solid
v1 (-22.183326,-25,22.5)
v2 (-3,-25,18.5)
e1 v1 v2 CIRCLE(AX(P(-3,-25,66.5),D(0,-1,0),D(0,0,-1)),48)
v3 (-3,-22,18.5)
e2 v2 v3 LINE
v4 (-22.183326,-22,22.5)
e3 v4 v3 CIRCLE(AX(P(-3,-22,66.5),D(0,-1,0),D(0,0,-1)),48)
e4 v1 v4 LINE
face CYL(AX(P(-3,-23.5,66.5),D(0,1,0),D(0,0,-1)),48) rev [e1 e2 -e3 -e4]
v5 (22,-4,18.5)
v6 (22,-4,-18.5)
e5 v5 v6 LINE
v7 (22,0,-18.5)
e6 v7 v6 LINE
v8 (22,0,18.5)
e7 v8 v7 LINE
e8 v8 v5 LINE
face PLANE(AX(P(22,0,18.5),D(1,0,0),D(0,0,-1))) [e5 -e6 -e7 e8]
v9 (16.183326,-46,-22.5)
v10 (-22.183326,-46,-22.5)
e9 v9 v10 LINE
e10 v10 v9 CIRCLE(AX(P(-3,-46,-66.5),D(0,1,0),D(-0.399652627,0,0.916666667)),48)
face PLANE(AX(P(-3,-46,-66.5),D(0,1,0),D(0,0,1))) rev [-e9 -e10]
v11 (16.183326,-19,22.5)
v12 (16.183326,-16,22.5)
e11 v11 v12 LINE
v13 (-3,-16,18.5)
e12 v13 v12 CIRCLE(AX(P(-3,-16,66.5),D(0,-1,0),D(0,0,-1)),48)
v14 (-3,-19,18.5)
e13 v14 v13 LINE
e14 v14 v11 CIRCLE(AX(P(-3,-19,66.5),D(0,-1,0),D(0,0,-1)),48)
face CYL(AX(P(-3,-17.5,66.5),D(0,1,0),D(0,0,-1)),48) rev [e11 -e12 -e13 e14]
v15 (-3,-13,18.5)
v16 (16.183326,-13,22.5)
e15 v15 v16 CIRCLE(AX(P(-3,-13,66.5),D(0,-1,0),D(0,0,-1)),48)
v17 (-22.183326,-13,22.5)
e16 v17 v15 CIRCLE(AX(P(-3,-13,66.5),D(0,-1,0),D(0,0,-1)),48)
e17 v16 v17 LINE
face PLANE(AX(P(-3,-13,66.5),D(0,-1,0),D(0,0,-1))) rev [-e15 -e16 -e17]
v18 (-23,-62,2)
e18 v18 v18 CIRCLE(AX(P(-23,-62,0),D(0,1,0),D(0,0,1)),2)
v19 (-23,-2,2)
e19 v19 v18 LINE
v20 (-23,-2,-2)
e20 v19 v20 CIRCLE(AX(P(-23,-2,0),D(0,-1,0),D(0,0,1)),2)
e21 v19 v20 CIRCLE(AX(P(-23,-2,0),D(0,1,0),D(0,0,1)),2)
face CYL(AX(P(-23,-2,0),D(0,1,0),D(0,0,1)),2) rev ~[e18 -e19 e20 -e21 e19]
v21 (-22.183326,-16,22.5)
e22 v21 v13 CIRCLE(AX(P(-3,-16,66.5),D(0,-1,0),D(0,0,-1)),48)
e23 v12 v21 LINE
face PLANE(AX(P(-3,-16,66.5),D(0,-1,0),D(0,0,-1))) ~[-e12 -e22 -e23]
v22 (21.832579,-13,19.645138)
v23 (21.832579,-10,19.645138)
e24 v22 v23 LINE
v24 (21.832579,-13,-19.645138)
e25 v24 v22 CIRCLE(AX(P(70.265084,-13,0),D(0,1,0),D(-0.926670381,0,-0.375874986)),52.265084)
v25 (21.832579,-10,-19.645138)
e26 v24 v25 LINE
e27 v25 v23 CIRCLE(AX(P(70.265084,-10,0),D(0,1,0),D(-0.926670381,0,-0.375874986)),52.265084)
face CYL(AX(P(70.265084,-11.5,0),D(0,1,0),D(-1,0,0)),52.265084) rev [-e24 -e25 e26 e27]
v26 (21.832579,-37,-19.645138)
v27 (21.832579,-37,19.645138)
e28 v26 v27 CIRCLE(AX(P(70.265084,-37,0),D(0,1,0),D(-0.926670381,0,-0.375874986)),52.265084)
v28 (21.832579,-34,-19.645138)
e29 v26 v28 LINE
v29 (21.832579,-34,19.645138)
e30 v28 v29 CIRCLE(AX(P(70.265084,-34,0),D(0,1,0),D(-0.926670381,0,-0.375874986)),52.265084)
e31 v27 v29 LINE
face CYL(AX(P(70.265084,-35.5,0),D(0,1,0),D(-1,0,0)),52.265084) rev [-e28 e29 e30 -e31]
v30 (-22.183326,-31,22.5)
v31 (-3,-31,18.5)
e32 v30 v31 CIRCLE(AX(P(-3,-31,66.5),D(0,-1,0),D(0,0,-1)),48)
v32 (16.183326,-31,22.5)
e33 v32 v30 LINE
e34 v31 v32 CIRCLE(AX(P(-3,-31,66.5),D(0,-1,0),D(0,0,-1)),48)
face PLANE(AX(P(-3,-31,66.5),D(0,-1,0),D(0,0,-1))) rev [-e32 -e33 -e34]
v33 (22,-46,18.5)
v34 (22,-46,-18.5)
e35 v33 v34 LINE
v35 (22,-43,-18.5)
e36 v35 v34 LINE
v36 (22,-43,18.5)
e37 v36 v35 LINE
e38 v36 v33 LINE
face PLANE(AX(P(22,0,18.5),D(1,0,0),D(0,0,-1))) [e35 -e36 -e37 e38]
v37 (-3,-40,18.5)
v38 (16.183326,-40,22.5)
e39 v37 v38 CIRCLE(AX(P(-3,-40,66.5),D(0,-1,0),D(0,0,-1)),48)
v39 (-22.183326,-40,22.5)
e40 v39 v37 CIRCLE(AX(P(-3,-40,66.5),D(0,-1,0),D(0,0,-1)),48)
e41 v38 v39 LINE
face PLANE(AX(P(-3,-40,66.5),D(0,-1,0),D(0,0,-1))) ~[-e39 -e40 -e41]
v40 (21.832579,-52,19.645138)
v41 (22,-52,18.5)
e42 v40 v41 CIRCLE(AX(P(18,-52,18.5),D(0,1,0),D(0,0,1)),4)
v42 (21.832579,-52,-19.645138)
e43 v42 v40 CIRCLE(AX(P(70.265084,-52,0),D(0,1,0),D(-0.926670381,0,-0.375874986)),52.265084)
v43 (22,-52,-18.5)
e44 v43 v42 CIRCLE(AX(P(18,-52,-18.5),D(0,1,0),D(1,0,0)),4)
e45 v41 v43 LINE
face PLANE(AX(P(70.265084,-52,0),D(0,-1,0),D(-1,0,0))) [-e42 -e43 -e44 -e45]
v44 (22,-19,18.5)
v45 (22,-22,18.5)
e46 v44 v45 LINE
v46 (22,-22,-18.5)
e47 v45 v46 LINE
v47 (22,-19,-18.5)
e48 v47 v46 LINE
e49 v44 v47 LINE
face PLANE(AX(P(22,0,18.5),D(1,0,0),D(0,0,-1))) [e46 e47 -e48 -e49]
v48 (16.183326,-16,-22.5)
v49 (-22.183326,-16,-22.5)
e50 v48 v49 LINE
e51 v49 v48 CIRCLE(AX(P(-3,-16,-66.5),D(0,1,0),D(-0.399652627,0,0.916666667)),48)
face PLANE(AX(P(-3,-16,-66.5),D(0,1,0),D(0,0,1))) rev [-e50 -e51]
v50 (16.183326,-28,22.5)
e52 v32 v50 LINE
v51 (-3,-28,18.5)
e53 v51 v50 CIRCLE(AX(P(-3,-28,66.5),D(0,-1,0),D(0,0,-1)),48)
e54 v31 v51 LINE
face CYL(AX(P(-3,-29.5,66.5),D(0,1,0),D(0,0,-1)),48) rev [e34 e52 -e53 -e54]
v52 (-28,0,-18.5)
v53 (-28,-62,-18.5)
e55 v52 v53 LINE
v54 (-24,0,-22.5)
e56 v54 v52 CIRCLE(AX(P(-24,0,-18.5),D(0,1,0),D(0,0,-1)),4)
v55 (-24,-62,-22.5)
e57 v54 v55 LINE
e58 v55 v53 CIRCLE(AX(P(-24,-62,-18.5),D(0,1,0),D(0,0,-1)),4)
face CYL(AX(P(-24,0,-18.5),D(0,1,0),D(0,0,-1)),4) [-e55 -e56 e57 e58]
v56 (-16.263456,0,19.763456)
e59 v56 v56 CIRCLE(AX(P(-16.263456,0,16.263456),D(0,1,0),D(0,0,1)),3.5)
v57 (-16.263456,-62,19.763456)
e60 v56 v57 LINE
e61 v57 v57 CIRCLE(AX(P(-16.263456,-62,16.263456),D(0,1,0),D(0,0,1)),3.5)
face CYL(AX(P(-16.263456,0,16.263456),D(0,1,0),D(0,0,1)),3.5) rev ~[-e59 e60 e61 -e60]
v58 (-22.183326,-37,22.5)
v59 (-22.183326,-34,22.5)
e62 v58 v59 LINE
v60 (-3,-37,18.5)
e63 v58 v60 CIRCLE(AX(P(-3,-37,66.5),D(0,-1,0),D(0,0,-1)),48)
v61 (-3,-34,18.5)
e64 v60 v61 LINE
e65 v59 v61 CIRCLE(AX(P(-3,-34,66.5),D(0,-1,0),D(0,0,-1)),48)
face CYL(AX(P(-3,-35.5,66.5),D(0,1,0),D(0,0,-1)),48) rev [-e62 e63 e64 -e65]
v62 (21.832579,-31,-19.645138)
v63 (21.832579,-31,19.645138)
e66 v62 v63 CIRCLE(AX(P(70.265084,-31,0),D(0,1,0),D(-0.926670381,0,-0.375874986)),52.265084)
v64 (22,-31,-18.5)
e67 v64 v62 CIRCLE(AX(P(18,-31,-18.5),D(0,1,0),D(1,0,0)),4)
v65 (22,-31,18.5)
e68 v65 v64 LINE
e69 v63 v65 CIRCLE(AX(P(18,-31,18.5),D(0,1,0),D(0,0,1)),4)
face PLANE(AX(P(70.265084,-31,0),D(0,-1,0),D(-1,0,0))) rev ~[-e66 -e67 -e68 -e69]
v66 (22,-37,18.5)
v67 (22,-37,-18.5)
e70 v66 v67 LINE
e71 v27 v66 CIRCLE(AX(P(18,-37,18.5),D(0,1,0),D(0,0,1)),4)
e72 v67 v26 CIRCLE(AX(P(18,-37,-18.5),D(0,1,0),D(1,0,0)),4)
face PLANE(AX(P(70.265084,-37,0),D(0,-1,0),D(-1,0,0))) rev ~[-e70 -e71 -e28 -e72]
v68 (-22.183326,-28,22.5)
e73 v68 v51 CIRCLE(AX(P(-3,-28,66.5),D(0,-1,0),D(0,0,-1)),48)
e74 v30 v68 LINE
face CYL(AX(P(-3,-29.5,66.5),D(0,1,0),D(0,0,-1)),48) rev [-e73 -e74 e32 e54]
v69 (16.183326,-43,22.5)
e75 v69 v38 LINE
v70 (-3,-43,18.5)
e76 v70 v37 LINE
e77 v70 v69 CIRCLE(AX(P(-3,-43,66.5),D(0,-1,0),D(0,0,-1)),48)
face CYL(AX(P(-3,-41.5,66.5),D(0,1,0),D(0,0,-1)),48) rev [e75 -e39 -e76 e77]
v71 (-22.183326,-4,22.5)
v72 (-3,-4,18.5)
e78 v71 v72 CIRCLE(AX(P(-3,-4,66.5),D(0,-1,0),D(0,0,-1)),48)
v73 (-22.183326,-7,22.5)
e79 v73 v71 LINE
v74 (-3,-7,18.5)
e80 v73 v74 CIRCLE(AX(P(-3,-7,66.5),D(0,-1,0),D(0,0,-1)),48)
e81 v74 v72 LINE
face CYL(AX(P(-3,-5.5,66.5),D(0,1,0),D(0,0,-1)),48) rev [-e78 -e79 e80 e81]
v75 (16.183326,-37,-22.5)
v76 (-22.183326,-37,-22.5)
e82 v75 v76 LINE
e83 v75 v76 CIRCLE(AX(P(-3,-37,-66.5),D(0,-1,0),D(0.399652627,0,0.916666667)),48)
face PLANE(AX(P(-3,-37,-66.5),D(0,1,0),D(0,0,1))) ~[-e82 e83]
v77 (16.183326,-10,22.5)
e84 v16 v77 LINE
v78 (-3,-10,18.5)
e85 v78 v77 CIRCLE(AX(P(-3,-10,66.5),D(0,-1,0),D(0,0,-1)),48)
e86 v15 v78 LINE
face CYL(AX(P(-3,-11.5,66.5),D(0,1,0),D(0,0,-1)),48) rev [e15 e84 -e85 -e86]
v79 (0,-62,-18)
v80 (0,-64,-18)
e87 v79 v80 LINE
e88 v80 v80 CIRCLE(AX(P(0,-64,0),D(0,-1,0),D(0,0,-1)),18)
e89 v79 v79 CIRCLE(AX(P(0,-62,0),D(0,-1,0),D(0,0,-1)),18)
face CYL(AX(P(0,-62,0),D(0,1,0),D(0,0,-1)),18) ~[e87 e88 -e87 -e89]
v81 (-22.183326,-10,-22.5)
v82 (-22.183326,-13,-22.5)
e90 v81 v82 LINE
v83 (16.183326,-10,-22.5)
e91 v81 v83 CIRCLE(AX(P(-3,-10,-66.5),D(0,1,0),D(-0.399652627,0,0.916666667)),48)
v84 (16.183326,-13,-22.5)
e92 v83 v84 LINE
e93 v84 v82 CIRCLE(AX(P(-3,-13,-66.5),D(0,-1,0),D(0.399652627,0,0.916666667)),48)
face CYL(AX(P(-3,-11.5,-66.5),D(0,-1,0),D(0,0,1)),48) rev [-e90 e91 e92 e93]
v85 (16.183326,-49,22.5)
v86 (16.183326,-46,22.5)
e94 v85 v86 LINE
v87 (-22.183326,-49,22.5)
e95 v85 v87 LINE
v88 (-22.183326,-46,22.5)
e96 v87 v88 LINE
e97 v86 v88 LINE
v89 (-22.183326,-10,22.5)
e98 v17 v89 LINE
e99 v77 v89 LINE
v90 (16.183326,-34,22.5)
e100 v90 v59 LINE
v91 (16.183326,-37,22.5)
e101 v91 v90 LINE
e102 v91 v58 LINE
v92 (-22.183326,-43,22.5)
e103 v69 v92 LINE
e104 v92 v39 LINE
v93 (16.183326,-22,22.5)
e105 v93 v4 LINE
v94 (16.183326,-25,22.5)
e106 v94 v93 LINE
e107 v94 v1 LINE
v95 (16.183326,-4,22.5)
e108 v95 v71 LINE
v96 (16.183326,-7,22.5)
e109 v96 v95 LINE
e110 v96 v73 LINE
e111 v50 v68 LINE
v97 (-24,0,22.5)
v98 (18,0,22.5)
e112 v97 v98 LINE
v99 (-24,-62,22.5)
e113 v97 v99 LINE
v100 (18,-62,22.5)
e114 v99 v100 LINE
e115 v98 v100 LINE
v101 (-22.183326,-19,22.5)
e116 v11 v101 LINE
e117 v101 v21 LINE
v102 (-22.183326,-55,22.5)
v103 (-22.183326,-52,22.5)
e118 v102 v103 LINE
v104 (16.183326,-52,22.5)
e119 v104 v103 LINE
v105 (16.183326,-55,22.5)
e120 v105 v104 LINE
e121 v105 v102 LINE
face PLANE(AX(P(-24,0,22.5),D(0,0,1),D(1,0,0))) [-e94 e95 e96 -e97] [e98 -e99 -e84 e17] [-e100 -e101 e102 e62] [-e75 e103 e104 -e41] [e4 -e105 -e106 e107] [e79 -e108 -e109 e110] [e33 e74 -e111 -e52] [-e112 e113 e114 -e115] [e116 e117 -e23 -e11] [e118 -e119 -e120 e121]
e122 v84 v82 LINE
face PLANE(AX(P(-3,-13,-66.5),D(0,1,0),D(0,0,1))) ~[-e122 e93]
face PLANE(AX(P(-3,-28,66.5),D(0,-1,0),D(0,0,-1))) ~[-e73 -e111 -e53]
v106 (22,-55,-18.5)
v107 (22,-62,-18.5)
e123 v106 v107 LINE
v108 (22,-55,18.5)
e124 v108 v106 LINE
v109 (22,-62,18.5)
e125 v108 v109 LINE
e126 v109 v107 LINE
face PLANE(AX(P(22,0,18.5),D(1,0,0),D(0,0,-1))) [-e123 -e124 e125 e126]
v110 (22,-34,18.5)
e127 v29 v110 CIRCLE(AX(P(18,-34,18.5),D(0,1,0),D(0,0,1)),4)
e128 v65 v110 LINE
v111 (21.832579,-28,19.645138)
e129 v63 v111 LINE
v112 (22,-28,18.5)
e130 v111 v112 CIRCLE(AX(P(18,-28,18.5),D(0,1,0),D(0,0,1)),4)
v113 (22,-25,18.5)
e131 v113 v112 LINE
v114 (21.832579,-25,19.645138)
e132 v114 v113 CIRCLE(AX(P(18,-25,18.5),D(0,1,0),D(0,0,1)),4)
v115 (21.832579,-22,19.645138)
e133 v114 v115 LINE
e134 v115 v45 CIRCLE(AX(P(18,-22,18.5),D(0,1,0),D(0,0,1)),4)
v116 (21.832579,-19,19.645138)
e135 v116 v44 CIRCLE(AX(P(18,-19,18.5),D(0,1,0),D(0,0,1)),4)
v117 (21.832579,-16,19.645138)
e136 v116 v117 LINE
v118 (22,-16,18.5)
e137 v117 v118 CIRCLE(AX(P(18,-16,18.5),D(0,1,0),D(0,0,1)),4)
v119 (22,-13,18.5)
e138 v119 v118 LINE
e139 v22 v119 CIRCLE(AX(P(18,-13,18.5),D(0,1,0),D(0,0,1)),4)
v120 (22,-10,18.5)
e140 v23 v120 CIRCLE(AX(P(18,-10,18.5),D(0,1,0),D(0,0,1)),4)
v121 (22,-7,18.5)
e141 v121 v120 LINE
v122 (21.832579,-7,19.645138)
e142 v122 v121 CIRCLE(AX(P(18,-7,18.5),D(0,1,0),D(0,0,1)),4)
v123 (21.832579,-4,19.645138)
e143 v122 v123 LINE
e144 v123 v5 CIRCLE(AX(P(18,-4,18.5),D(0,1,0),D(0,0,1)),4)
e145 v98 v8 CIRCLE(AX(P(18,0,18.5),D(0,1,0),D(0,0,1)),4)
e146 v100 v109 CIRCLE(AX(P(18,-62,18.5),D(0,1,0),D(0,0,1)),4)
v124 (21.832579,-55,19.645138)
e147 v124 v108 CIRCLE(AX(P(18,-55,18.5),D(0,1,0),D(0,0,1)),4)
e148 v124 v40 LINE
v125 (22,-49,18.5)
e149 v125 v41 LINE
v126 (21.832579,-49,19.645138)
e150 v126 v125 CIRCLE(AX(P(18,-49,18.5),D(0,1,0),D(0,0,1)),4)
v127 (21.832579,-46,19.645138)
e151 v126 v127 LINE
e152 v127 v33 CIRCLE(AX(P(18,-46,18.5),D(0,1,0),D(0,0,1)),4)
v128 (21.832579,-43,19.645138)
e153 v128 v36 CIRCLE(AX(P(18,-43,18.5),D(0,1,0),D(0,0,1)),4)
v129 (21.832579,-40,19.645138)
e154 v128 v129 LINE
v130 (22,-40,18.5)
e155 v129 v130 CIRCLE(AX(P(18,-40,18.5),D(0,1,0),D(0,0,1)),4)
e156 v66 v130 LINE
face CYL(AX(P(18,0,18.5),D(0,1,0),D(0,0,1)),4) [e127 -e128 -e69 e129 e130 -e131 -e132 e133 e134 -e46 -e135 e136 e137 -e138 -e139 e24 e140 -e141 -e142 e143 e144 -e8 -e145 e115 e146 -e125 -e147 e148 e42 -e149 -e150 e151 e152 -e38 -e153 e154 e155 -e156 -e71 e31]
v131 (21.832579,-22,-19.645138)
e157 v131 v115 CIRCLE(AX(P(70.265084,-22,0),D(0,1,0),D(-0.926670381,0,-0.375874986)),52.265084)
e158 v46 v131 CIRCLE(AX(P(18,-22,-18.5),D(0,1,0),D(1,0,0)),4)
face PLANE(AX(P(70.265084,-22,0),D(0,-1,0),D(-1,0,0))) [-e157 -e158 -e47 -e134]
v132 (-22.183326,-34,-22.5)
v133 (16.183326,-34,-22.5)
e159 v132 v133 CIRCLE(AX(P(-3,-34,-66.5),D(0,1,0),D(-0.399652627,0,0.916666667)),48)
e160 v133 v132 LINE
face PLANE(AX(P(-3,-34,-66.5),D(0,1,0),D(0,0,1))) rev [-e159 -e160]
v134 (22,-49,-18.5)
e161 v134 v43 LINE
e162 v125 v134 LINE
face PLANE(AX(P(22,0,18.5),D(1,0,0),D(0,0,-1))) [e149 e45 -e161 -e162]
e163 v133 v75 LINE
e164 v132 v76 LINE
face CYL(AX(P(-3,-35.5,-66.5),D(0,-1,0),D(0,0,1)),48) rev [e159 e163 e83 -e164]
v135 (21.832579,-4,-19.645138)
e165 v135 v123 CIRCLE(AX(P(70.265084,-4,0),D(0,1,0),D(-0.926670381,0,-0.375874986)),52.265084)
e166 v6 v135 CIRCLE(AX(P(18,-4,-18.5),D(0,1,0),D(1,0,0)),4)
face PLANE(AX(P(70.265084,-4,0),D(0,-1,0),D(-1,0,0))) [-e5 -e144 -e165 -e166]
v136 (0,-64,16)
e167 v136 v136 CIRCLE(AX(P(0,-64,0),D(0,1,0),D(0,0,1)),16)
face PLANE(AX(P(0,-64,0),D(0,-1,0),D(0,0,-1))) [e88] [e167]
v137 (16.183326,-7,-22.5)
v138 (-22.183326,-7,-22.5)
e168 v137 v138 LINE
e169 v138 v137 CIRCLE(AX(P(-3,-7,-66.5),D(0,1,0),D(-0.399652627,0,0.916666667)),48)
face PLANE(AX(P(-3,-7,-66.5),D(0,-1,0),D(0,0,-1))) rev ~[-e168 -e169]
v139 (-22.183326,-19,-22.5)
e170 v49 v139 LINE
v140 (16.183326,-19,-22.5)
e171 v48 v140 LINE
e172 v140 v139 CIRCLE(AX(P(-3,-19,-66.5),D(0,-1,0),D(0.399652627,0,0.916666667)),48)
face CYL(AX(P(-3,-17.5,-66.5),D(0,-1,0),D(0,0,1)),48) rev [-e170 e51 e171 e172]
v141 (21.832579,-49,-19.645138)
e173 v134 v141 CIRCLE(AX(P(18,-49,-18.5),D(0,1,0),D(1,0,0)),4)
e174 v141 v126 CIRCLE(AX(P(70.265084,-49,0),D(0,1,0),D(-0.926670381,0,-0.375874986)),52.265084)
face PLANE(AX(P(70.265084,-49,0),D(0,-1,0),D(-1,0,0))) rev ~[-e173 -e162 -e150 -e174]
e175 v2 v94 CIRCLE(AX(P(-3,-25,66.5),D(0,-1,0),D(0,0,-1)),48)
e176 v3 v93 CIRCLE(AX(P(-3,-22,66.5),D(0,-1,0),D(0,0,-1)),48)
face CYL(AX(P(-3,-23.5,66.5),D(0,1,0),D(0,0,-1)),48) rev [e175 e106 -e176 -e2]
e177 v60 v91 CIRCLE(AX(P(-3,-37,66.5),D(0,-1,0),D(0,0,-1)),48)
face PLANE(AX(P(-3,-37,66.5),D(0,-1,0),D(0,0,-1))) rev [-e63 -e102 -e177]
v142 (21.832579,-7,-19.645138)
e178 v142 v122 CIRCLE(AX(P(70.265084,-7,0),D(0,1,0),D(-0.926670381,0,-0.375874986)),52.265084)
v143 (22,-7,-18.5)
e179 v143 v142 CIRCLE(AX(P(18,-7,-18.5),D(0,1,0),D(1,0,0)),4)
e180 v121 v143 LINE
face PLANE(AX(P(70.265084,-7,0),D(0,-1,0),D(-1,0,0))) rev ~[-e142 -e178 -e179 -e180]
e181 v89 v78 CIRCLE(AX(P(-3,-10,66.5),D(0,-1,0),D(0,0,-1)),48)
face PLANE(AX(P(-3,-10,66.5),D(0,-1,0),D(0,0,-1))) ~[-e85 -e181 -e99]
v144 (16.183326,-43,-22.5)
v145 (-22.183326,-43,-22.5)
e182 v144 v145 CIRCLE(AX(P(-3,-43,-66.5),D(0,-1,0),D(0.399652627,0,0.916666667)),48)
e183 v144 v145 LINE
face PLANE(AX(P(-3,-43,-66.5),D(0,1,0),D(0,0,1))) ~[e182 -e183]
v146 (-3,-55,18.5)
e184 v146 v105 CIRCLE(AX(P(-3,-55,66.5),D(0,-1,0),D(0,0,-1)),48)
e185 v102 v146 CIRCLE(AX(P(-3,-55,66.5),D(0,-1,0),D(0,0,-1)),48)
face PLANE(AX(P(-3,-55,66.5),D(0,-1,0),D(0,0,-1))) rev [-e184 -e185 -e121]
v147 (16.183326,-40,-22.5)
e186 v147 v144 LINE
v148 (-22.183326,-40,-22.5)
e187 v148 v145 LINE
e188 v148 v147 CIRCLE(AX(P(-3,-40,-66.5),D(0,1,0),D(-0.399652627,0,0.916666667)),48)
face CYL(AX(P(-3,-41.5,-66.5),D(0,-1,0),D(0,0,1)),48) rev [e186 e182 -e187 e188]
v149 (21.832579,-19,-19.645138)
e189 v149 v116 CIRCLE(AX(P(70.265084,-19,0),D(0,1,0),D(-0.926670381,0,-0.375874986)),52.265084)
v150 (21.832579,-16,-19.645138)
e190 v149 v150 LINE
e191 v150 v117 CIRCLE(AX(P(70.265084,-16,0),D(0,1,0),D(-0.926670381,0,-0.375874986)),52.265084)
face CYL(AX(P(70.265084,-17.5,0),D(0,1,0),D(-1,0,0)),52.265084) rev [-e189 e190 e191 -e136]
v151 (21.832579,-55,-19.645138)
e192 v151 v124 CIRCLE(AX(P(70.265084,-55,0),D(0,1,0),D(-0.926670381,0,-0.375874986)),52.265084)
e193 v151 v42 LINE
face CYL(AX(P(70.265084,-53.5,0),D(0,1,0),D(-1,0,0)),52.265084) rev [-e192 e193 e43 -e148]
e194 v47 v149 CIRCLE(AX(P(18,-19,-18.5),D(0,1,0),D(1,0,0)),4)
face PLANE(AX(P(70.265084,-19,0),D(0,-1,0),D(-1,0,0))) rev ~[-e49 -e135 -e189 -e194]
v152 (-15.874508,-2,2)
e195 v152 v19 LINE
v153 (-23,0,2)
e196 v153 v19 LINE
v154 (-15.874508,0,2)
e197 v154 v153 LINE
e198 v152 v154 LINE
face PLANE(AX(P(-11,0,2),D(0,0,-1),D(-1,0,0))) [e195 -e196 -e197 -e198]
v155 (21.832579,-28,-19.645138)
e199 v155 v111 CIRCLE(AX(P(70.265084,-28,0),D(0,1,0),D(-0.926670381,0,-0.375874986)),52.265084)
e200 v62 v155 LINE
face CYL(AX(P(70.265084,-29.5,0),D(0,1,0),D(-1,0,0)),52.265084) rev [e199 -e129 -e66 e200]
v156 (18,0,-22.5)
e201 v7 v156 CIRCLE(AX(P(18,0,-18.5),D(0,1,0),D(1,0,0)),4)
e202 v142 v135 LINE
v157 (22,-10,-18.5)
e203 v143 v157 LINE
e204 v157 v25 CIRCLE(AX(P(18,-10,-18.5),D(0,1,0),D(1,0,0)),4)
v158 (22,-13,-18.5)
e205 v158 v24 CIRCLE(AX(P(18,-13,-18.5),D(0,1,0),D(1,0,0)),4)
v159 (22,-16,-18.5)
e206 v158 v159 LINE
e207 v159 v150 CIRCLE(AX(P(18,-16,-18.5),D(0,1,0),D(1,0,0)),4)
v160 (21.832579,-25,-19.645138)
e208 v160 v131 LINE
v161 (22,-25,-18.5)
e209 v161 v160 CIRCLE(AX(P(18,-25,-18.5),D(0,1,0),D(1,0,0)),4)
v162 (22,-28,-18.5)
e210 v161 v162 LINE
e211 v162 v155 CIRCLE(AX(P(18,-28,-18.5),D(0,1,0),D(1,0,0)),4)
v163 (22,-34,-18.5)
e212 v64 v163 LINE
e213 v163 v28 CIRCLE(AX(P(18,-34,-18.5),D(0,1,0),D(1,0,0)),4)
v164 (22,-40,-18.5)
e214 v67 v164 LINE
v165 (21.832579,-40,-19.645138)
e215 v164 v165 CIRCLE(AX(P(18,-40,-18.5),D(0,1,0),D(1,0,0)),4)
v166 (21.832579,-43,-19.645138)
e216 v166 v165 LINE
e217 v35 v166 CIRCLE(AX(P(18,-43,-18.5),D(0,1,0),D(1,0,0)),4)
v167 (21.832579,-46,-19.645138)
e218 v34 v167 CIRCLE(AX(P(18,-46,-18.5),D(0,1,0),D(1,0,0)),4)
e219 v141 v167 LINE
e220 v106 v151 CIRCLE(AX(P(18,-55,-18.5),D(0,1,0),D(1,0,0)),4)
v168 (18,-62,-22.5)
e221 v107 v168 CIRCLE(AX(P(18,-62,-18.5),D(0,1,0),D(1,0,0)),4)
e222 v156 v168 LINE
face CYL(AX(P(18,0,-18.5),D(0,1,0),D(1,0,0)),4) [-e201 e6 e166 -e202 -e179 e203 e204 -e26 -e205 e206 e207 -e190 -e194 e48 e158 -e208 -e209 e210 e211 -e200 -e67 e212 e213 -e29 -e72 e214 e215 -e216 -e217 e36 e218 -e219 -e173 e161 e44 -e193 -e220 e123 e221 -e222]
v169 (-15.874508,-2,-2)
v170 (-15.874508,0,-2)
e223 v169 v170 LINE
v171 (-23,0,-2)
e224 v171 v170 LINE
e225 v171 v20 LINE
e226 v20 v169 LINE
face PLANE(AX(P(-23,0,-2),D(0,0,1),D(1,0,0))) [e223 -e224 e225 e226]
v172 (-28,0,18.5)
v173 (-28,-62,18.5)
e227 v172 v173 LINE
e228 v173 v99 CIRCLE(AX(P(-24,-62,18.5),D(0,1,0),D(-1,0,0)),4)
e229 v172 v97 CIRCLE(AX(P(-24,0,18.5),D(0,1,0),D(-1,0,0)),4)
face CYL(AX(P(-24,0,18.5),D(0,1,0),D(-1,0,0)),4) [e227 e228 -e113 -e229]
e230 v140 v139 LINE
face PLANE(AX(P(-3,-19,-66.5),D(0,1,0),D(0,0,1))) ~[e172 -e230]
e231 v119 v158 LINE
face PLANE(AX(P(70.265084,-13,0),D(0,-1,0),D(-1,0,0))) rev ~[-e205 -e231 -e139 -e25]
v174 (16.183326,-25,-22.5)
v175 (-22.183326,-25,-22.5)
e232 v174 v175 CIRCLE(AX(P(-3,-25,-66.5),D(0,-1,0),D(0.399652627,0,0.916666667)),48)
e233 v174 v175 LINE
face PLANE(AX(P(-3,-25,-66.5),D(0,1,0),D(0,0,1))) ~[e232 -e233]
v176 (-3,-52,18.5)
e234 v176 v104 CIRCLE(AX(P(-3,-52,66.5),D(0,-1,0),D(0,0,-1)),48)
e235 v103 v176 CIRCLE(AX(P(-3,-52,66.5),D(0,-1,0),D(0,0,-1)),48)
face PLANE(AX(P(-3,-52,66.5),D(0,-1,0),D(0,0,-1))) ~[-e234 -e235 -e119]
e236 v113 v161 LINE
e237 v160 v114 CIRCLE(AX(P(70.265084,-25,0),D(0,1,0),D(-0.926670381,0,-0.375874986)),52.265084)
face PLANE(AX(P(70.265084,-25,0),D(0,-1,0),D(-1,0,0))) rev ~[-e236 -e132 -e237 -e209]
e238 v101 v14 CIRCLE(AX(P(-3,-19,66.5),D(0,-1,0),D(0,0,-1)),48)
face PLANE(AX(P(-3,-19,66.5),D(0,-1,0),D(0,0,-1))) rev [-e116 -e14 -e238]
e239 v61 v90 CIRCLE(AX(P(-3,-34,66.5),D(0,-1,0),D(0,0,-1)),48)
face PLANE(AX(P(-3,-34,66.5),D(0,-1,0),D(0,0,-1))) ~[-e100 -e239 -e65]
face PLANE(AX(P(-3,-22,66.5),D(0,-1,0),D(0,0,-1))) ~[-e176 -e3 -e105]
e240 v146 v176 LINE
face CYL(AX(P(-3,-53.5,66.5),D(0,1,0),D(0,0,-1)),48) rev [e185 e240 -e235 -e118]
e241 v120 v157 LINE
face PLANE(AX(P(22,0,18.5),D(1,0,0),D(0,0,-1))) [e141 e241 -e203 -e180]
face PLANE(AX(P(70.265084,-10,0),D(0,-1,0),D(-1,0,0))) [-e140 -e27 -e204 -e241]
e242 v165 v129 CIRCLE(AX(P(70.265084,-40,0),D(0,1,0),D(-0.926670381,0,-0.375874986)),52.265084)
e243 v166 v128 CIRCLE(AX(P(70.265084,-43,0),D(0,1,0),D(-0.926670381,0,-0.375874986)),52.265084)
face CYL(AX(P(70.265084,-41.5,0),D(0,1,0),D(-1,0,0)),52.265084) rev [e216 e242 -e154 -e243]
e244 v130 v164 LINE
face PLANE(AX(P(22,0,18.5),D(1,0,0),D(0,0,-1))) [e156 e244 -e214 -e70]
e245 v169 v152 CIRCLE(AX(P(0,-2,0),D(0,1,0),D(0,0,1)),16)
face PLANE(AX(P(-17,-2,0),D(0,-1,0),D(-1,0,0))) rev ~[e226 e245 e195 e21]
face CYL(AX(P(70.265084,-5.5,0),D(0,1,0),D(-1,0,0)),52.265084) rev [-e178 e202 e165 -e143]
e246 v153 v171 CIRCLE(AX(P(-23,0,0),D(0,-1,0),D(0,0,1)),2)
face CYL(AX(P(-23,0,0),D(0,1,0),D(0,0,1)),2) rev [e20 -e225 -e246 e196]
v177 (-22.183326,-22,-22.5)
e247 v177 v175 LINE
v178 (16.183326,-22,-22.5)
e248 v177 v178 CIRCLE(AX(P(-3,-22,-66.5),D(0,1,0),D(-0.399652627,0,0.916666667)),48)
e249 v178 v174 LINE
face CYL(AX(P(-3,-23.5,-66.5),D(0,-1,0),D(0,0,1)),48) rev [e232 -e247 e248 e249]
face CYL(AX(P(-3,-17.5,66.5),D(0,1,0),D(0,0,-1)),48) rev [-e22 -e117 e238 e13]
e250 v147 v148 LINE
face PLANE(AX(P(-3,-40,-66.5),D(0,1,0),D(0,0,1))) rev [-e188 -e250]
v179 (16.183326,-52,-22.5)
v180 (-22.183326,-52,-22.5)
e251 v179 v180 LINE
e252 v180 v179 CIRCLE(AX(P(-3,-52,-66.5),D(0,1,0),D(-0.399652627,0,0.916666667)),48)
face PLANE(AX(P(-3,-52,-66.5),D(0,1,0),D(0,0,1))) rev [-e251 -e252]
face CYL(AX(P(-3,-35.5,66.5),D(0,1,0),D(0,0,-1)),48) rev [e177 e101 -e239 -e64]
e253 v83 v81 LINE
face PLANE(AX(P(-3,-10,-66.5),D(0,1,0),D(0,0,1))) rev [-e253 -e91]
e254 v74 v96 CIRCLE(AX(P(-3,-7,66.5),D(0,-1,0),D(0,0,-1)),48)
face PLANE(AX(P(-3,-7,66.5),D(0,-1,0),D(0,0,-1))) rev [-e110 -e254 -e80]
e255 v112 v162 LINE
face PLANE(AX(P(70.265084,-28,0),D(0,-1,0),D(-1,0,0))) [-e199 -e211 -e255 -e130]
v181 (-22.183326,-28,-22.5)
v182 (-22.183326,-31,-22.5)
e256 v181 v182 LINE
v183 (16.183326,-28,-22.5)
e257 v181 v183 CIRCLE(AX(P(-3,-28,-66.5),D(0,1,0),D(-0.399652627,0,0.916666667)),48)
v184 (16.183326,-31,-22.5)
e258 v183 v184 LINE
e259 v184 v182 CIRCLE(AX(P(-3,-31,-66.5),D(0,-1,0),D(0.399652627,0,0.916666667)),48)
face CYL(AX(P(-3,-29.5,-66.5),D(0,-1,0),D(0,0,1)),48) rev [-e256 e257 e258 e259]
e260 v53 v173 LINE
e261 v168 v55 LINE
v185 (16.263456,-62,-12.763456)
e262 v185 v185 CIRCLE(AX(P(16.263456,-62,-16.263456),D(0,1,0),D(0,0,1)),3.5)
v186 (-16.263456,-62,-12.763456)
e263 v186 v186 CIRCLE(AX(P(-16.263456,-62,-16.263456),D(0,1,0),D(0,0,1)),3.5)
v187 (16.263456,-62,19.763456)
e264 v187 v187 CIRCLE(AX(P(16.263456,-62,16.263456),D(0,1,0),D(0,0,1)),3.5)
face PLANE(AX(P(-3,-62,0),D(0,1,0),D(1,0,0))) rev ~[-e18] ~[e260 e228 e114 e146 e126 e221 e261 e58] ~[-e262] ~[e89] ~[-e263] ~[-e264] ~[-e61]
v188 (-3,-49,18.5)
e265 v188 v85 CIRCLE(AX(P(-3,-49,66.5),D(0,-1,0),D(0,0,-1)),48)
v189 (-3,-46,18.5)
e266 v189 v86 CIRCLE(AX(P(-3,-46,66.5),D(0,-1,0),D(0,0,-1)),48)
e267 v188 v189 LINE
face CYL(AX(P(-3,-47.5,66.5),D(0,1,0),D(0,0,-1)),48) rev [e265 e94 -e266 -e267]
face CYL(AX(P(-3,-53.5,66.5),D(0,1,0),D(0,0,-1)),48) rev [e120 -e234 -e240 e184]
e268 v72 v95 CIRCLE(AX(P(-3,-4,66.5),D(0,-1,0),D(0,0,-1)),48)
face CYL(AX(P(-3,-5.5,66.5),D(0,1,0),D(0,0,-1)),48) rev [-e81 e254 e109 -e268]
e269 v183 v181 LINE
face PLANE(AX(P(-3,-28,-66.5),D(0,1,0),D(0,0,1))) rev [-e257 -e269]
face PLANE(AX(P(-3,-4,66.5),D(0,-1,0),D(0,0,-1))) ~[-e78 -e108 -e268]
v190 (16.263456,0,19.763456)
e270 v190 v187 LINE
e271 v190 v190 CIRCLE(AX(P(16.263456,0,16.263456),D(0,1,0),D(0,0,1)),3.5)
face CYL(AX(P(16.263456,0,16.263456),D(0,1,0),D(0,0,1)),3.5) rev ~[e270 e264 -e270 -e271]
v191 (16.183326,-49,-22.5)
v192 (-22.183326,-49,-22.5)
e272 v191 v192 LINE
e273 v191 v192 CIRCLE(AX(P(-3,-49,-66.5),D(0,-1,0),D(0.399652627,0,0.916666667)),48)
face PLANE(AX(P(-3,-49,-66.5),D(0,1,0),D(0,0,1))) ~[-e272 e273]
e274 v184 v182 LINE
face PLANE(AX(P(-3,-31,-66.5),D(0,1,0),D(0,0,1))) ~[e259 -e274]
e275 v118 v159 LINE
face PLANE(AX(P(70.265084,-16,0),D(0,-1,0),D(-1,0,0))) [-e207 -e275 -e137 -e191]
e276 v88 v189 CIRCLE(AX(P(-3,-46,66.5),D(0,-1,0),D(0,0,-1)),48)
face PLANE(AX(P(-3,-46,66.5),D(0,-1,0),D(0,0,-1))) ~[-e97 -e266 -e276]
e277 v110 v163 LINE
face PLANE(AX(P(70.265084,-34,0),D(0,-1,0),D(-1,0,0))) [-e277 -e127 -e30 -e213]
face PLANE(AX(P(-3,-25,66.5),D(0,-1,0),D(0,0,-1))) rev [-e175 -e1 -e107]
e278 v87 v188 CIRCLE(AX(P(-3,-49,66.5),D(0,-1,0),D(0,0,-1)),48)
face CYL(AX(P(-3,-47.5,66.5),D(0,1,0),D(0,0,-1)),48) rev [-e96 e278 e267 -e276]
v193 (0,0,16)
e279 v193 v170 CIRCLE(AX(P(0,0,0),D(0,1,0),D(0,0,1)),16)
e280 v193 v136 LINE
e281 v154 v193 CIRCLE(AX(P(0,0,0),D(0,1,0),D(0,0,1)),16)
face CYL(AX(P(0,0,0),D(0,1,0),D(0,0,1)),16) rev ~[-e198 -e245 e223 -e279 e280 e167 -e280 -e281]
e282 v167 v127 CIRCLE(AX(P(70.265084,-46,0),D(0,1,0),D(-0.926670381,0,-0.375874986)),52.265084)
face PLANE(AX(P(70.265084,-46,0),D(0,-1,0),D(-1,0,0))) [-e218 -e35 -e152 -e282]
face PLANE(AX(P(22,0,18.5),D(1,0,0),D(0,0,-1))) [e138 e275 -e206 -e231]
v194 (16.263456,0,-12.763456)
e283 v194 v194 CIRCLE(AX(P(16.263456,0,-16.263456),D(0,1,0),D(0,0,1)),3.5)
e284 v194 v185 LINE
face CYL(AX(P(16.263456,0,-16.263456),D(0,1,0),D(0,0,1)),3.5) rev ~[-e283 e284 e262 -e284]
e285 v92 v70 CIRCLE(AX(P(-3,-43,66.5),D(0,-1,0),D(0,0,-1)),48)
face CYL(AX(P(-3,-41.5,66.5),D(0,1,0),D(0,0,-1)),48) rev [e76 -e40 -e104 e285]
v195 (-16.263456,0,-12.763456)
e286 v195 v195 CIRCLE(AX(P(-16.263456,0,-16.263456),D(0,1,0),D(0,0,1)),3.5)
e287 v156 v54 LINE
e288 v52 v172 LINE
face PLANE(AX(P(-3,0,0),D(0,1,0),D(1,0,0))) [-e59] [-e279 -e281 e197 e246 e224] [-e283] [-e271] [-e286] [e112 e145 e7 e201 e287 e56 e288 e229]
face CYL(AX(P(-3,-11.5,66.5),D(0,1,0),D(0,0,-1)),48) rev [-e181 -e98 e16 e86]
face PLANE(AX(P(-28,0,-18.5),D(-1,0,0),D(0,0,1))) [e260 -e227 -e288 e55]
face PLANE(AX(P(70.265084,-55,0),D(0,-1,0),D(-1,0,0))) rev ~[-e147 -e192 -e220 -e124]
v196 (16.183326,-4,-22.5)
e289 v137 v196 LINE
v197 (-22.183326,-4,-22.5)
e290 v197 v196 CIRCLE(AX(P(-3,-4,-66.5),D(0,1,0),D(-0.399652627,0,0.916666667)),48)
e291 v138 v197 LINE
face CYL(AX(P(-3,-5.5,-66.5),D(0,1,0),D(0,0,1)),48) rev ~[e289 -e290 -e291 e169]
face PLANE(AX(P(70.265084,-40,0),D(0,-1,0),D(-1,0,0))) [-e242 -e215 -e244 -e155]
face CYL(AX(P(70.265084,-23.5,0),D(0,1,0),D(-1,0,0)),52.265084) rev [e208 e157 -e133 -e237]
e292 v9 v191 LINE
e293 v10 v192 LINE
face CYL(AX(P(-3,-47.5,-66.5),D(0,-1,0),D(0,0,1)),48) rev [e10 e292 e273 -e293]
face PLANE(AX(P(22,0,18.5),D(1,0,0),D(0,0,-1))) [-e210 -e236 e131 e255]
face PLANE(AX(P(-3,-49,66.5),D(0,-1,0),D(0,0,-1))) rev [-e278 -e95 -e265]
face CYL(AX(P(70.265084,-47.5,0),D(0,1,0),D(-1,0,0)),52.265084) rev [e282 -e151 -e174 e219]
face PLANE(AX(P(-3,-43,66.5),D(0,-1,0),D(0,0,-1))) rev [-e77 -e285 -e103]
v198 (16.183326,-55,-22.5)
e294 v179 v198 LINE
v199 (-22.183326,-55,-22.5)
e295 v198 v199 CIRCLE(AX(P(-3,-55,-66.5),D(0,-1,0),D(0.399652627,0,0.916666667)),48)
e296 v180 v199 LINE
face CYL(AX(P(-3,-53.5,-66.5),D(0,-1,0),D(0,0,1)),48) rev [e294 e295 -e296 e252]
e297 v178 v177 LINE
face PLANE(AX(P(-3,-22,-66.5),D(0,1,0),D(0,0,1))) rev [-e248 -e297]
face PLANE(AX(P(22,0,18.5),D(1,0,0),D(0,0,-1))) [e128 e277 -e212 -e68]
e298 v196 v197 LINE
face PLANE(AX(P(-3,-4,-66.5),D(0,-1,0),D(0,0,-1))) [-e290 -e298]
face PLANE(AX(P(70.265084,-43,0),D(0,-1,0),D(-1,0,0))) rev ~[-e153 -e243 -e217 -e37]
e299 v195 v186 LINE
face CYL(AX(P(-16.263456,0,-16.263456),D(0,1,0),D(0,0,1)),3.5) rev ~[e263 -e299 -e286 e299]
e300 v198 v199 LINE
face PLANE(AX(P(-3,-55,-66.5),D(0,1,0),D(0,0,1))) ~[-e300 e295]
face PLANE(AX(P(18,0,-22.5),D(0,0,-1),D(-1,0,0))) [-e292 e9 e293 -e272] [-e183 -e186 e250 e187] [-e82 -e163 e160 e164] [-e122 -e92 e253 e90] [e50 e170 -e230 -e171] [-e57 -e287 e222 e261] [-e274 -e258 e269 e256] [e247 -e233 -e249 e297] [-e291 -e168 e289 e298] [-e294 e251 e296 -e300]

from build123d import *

# Parameters (mm, degrees)
BOSS_EXTRUDE1_DEPTH     = 62
SKETCH3_R               = 18
BOSS_EXTRUDE2_DEPTH     = 2
SKETCH4_R               = 16
CUT_EXTRUDE1_DEPTH      = 74.391075752
CUT_EXTRUDE2_DEPTH      = 2
SKETCH6_R               = 2
CUT_EXTRUDE3_DEPTH      = 72.653680994
SKETCH7_R               = 3.5
CUT_EXTRUDE4_DEPTH      = 74.391075752
SKETCH8_W               = 48
SKETCH8_H               = 3
LPATTERN1_COUNT         = 9
LPATTERN1_PITCH         = 6
MIRROR1_COPY_1_SKETCH_W = 48
MIRROR1_COPY_1_SKETCH_H = 3
MIRROR1_COPY_2_SKETCH_W = 48
MIRROR1_COPY_2_SKETCH_H = 3
MIRROR1_COPY_3_SKETCH_W = 48
MIRROR1_COPY_3_SKETCH_H = 3
MIRROR1_COPY_4_SKETCH_W = 48
MIRROR1_COPY_4_SKETCH_H = 3
MIRROR1_COPY_5_SKETCH_W = 48
MIRROR1_COPY_5_SKETCH_H = 3
MIRROR1_COPY_6_SKETCH_W = 48
MIRROR1_COPY_6_SKETCH_H = 3
MIRROR1_COPY_7_SKETCH_W = 48
MIRROR1_COPY_7_SKETCH_H = 3
MIRROR1_COPY_8_SKETCH_W = 48
MIRROR1_COPY_8_SKETCH_H = 3
SKETCH11_W              = 52.265084003
SKETCH11_H              = 3
LPATTERN2_COUNT         = 9
LPATTERN2_PITCH         = 6


with BuildPart() as part:
    # Sketch1 → Boss-Extrude1 (new body)
    with BuildSketch(Plane(origin=(0, 0, 0), x_dir=(1, 0, 0), z_dir=(0, 1, 0))):
        with BuildLine():
            Line((18, 22.5), (-24, 22.5))
            ThreePointArc((-24, 22.5), (-26.828427125, 21.328427125), (-28, 18.5))
            Line((-28, 18.5), (-28, -18.5))
            ThreePointArc((-28, -18.5), (-26.828427125, -21.328427125), (-24, -22.5))
            Line((-24, -22.5), (18, -22.5))
            ThreePointArc((18, -22.5), (20.828427125, -21.328427125), (22, -18.5))
            Line((22, -18.5), (22, 18.5))
            ThreePointArc((22, 18.5), (20.828427125, 21.328427125), (18, 22.5))
        make_face()
    extrude(amount=-BOSS_EXTRUDE1_DEPTH)

    # Sketch3 → Boss-Extrude2 (add)
    with BuildSketch(Plane.XZ.offset(62)):
        with Locations(Location((0, 0, 0), (0, 0, 270))):
            Circle(SKETCH3_R)
    extrude(amount=BOSS_EXTRUDE2_DEPTH)

    # Sketch4 → Cut-Extrude1 (cut, through all)
    with BuildSketch(Plane(origin=(0, 0, 0), x_dir=(1, 0, 0), z_dir=(0, 1, 0))):
        with Locations(Location((0, 0, 0), (0, 0, 270))):
            Circle(SKETCH4_R)
    extrude(amount=-CUT_EXTRUDE1_DEPTH, mode=Mode.SUBTRACT)

    # Sketch5 → Cut-Extrude2 (cut)
    with BuildSketch(Plane(origin=(0, 0, 0), x_dir=(1, 0, 0), z_dir=(0, 1, 0))):
        with BuildLine():
            Line((-23, 2), (-11, 2))
            ThreePointArc((-11, 2), (-9, 0), (-11, -2))
            Line((-11, -2), (-23, -2))
            ThreePointArc((-23, -2), (-25, 0), (-23, 2))
        make_face()
    extrude(amount=-CUT_EXTRUDE2_DEPTH, mode=Mode.SUBTRACT)

    # Sketch6 → Cut-Extrude3 (cut, through all)
    with BuildSketch(Plane(origin=(0, -2, 0), x_dir=(1, 0, 0), z_dir=(0, 1, 0))):
        with Locations(Location((-23, 0, 0), (0, 0, 270))):
            Circle(SKETCH6_R)
    extrude(amount=-CUT_EXTRUDE3_DEPTH, mode=Mode.SUBTRACT)

    # Sketch7 → Cut-Extrude4 (cut, through all)
    with BuildSketch(Plane(origin=(0, 0, 0), x_dir=(1, 0, 0), z_dir=(0, 1, 0))):
        with Locations(Location((16.263455967, 16.263455967, 0), (0, 0, 270))):
            Circle(SKETCH7_R)
        with Locations(Location((16.263455967, -16.263455967, 0), (0, 0, 270))):
            Circle(SKETCH7_R)
        with Locations(Location((-16.263455967, -16.263455967, 0), (0, 0, 270))):
            Circle(SKETCH7_R)
        with Locations(Location((-16.263455967, 16.263455967, 0), (0, 0, 270))):
            Circle(SKETCH7_R)
    extrude(amount=-CUT_EXTRUDE4_DEPTH, mode=Mode.SUBTRACT)

    # Sketch8 → Cut-Revolve1 (revolve, cut)
    with BuildSketch(Plane(origin=(-3, 0, 0), x_dir=(0, 0, -1), z_dir=(1, 0, 0))):
        with Locations((-42.5, -5.5)):
            Rectangle(SKETCH8_W, SKETCH8_H)
    cut_revolve1 = revolve(axis=Axis((-3, -4, 66.5), (0, -1, 0)), mode=Mode.SUBTRACT)

    # LPattern1: Cut-Revolve1 ×9
    with Locations(*[(0, -i * LPATTERN1_PITCH, 0) for i in range(1, LPATTERN1_COUNT)]):
        add(cut_revolve1, mode=Mode.SUBTRACT)

    # Mirror1: Cut-Revolve1 across plane
    add(cut_revolve1.mirror(Plane.XY), mode=Mode.SUBTRACT)

    # Mirror1 copy 1 sketch → Mirror1 copy 1 (revolve, cut)
    with BuildSketch(Plane(origin=(-3, -6, 0), x_dir=(0, 0, 1), z_dir=(1, 0, 0))):
        with Locations((-42.5, 5.5)):
            Rectangle(MIRROR1_COPY_1_SKETCH_W, MIRROR1_COPY_1_SKETCH_H)
    revolve(axis=Axis((-3, -10, -66.5), (0, 1, 0)), mode=Mode.SUBTRACT)

    # Mirror1 copy 2 sketch → Mirror1 copy 2 (revolve, cut)
    with BuildSketch(Plane(origin=(-3, -12, 0), x_dir=(0, 0, 1), z_dir=(1, 0, 0))):
        with Locations((-42.5, 5.5)):
            Rectangle(MIRROR1_COPY_2_SKETCH_W, MIRROR1_COPY_2_SKETCH_H)
    revolve(axis=Axis((-3, -16, -66.5), (0, 1, 0)), mode=Mode.SUBTRACT)

    # Mirror1 copy 3 sketch → Mirror1 copy 3 (revolve, cut)
    with BuildSketch(Plane(origin=(-3, -18, 0), x_dir=(0, 0, 1), z_dir=(1, 0, 0))):
        with Locations((-42.5, 5.5)):
            Rectangle(MIRROR1_COPY_3_SKETCH_W, MIRROR1_COPY_3_SKETCH_H)
    revolve(axis=Axis((-3, -22, -66.5), (0, 1, 0)), mode=Mode.SUBTRACT)

    # Mirror1 copy 4 sketch → Mirror1 copy 4 (revolve, cut)
    with BuildSketch(Plane(origin=(-3, -24, 0), x_dir=(0, 0, 1), z_dir=(1, 0, 0))):
        with Locations((-42.5, 5.5)):
            Rectangle(MIRROR1_COPY_4_SKETCH_W, MIRROR1_COPY_4_SKETCH_H)
    revolve(axis=Axis((-3, -28, -66.5), (0, 1, 0)), mode=Mode.SUBTRACT)

    # Mirror1 copy 5 sketch → Mirror1 copy 5 (revolve, cut)
    with BuildSketch(Plane(origin=(-3, -30, 0), x_dir=(0, 0, 1), z_dir=(1, 0, 0))):
        with Locations((-42.5, 5.5)):
            Rectangle(MIRROR1_COPY_5_SKETCH_W, MIRROR1_COPY_5_SKETCH_H)
    revolve(axis=Axis((-3, -34, -66.5), (0, 1, 0)), mode=Mode.SUBTRACT)

    # Mirror1 copy 6 sketch → Mirror1 copy 6 (revolve, cut)
    with BuildSketch(Plane(origin=(-3, -36, 0), x_dir=(0, 0, 1), z_dir=(1, 0, 0))):
        with Locations((-42.5, 5.5)):
            Rectangle(MIRROR1_COPY_6_SKETCH_W, MIRROR1_COPY_6_SKETCH_H)
    revolve(axis=Axis((-3, -40, -66.5), (0, 1, 0)), mode=Mode.SUBTRACT)

    # Mirror1 copy 7 sketch → Mirror1 copy 7 (revolve, cut)
    with BuildSketch(Plane(origin=(-3, -42, 0), x_dir=(0, 0, 1), z_dir=(1, 0, 0))):
        with Locations((-42.5, 5.5)):
            Rectangle(MIRROR1_COPY_7_SKETCH_W, MIRROR1_COPY_7_SKETCH_H)
    revolve(axis=Axis((-3, -46, -66.5), (0, 1, 0)), mode=Mode.SUBTRACT)

    # Mirror1 copy 8 sketch → Mirror1 copy 8 (revolve, cut)
    with BuildSketch(Plane(origin=(-3, -48, 0), x_dir=(0, 0, 1), z_dir=(1, 0, 0))):
        with Locations((-42.5, 5.5)):
            Rectangle(MIRROR1_COPY_8_SKETCH_W, MIRROR1_COPY_8_SKETCH_H)
    revolve(axis=Axis((-3, -52, -66.5), (0, 1, 0)), mode=Mode.SUBTRACT)

    # Sketch11 → Cut-Revolve3 (revolve, cut)
    with BuildSketch(Plane.XY):
        with Locations((44.132542001, -5.5)):
            Rectangle(SKETCH11_W, SKETCH11_H)
    cut_revolve3 = revolve(axis=Axis((70.265084003, -4, 0), (0, -1, 0)), mode=Mode.SUBTRACT)

    # LPattern2: Cut-Revolve3 ×9
    with Locations(*[(0, -i * LPATTERN2_PITCH, 0) for i in range(1, LPATTERN2_COUNT)]):
        add(cut_revolve3, mode=Mode.SUBTRACT)


solid = part.part
